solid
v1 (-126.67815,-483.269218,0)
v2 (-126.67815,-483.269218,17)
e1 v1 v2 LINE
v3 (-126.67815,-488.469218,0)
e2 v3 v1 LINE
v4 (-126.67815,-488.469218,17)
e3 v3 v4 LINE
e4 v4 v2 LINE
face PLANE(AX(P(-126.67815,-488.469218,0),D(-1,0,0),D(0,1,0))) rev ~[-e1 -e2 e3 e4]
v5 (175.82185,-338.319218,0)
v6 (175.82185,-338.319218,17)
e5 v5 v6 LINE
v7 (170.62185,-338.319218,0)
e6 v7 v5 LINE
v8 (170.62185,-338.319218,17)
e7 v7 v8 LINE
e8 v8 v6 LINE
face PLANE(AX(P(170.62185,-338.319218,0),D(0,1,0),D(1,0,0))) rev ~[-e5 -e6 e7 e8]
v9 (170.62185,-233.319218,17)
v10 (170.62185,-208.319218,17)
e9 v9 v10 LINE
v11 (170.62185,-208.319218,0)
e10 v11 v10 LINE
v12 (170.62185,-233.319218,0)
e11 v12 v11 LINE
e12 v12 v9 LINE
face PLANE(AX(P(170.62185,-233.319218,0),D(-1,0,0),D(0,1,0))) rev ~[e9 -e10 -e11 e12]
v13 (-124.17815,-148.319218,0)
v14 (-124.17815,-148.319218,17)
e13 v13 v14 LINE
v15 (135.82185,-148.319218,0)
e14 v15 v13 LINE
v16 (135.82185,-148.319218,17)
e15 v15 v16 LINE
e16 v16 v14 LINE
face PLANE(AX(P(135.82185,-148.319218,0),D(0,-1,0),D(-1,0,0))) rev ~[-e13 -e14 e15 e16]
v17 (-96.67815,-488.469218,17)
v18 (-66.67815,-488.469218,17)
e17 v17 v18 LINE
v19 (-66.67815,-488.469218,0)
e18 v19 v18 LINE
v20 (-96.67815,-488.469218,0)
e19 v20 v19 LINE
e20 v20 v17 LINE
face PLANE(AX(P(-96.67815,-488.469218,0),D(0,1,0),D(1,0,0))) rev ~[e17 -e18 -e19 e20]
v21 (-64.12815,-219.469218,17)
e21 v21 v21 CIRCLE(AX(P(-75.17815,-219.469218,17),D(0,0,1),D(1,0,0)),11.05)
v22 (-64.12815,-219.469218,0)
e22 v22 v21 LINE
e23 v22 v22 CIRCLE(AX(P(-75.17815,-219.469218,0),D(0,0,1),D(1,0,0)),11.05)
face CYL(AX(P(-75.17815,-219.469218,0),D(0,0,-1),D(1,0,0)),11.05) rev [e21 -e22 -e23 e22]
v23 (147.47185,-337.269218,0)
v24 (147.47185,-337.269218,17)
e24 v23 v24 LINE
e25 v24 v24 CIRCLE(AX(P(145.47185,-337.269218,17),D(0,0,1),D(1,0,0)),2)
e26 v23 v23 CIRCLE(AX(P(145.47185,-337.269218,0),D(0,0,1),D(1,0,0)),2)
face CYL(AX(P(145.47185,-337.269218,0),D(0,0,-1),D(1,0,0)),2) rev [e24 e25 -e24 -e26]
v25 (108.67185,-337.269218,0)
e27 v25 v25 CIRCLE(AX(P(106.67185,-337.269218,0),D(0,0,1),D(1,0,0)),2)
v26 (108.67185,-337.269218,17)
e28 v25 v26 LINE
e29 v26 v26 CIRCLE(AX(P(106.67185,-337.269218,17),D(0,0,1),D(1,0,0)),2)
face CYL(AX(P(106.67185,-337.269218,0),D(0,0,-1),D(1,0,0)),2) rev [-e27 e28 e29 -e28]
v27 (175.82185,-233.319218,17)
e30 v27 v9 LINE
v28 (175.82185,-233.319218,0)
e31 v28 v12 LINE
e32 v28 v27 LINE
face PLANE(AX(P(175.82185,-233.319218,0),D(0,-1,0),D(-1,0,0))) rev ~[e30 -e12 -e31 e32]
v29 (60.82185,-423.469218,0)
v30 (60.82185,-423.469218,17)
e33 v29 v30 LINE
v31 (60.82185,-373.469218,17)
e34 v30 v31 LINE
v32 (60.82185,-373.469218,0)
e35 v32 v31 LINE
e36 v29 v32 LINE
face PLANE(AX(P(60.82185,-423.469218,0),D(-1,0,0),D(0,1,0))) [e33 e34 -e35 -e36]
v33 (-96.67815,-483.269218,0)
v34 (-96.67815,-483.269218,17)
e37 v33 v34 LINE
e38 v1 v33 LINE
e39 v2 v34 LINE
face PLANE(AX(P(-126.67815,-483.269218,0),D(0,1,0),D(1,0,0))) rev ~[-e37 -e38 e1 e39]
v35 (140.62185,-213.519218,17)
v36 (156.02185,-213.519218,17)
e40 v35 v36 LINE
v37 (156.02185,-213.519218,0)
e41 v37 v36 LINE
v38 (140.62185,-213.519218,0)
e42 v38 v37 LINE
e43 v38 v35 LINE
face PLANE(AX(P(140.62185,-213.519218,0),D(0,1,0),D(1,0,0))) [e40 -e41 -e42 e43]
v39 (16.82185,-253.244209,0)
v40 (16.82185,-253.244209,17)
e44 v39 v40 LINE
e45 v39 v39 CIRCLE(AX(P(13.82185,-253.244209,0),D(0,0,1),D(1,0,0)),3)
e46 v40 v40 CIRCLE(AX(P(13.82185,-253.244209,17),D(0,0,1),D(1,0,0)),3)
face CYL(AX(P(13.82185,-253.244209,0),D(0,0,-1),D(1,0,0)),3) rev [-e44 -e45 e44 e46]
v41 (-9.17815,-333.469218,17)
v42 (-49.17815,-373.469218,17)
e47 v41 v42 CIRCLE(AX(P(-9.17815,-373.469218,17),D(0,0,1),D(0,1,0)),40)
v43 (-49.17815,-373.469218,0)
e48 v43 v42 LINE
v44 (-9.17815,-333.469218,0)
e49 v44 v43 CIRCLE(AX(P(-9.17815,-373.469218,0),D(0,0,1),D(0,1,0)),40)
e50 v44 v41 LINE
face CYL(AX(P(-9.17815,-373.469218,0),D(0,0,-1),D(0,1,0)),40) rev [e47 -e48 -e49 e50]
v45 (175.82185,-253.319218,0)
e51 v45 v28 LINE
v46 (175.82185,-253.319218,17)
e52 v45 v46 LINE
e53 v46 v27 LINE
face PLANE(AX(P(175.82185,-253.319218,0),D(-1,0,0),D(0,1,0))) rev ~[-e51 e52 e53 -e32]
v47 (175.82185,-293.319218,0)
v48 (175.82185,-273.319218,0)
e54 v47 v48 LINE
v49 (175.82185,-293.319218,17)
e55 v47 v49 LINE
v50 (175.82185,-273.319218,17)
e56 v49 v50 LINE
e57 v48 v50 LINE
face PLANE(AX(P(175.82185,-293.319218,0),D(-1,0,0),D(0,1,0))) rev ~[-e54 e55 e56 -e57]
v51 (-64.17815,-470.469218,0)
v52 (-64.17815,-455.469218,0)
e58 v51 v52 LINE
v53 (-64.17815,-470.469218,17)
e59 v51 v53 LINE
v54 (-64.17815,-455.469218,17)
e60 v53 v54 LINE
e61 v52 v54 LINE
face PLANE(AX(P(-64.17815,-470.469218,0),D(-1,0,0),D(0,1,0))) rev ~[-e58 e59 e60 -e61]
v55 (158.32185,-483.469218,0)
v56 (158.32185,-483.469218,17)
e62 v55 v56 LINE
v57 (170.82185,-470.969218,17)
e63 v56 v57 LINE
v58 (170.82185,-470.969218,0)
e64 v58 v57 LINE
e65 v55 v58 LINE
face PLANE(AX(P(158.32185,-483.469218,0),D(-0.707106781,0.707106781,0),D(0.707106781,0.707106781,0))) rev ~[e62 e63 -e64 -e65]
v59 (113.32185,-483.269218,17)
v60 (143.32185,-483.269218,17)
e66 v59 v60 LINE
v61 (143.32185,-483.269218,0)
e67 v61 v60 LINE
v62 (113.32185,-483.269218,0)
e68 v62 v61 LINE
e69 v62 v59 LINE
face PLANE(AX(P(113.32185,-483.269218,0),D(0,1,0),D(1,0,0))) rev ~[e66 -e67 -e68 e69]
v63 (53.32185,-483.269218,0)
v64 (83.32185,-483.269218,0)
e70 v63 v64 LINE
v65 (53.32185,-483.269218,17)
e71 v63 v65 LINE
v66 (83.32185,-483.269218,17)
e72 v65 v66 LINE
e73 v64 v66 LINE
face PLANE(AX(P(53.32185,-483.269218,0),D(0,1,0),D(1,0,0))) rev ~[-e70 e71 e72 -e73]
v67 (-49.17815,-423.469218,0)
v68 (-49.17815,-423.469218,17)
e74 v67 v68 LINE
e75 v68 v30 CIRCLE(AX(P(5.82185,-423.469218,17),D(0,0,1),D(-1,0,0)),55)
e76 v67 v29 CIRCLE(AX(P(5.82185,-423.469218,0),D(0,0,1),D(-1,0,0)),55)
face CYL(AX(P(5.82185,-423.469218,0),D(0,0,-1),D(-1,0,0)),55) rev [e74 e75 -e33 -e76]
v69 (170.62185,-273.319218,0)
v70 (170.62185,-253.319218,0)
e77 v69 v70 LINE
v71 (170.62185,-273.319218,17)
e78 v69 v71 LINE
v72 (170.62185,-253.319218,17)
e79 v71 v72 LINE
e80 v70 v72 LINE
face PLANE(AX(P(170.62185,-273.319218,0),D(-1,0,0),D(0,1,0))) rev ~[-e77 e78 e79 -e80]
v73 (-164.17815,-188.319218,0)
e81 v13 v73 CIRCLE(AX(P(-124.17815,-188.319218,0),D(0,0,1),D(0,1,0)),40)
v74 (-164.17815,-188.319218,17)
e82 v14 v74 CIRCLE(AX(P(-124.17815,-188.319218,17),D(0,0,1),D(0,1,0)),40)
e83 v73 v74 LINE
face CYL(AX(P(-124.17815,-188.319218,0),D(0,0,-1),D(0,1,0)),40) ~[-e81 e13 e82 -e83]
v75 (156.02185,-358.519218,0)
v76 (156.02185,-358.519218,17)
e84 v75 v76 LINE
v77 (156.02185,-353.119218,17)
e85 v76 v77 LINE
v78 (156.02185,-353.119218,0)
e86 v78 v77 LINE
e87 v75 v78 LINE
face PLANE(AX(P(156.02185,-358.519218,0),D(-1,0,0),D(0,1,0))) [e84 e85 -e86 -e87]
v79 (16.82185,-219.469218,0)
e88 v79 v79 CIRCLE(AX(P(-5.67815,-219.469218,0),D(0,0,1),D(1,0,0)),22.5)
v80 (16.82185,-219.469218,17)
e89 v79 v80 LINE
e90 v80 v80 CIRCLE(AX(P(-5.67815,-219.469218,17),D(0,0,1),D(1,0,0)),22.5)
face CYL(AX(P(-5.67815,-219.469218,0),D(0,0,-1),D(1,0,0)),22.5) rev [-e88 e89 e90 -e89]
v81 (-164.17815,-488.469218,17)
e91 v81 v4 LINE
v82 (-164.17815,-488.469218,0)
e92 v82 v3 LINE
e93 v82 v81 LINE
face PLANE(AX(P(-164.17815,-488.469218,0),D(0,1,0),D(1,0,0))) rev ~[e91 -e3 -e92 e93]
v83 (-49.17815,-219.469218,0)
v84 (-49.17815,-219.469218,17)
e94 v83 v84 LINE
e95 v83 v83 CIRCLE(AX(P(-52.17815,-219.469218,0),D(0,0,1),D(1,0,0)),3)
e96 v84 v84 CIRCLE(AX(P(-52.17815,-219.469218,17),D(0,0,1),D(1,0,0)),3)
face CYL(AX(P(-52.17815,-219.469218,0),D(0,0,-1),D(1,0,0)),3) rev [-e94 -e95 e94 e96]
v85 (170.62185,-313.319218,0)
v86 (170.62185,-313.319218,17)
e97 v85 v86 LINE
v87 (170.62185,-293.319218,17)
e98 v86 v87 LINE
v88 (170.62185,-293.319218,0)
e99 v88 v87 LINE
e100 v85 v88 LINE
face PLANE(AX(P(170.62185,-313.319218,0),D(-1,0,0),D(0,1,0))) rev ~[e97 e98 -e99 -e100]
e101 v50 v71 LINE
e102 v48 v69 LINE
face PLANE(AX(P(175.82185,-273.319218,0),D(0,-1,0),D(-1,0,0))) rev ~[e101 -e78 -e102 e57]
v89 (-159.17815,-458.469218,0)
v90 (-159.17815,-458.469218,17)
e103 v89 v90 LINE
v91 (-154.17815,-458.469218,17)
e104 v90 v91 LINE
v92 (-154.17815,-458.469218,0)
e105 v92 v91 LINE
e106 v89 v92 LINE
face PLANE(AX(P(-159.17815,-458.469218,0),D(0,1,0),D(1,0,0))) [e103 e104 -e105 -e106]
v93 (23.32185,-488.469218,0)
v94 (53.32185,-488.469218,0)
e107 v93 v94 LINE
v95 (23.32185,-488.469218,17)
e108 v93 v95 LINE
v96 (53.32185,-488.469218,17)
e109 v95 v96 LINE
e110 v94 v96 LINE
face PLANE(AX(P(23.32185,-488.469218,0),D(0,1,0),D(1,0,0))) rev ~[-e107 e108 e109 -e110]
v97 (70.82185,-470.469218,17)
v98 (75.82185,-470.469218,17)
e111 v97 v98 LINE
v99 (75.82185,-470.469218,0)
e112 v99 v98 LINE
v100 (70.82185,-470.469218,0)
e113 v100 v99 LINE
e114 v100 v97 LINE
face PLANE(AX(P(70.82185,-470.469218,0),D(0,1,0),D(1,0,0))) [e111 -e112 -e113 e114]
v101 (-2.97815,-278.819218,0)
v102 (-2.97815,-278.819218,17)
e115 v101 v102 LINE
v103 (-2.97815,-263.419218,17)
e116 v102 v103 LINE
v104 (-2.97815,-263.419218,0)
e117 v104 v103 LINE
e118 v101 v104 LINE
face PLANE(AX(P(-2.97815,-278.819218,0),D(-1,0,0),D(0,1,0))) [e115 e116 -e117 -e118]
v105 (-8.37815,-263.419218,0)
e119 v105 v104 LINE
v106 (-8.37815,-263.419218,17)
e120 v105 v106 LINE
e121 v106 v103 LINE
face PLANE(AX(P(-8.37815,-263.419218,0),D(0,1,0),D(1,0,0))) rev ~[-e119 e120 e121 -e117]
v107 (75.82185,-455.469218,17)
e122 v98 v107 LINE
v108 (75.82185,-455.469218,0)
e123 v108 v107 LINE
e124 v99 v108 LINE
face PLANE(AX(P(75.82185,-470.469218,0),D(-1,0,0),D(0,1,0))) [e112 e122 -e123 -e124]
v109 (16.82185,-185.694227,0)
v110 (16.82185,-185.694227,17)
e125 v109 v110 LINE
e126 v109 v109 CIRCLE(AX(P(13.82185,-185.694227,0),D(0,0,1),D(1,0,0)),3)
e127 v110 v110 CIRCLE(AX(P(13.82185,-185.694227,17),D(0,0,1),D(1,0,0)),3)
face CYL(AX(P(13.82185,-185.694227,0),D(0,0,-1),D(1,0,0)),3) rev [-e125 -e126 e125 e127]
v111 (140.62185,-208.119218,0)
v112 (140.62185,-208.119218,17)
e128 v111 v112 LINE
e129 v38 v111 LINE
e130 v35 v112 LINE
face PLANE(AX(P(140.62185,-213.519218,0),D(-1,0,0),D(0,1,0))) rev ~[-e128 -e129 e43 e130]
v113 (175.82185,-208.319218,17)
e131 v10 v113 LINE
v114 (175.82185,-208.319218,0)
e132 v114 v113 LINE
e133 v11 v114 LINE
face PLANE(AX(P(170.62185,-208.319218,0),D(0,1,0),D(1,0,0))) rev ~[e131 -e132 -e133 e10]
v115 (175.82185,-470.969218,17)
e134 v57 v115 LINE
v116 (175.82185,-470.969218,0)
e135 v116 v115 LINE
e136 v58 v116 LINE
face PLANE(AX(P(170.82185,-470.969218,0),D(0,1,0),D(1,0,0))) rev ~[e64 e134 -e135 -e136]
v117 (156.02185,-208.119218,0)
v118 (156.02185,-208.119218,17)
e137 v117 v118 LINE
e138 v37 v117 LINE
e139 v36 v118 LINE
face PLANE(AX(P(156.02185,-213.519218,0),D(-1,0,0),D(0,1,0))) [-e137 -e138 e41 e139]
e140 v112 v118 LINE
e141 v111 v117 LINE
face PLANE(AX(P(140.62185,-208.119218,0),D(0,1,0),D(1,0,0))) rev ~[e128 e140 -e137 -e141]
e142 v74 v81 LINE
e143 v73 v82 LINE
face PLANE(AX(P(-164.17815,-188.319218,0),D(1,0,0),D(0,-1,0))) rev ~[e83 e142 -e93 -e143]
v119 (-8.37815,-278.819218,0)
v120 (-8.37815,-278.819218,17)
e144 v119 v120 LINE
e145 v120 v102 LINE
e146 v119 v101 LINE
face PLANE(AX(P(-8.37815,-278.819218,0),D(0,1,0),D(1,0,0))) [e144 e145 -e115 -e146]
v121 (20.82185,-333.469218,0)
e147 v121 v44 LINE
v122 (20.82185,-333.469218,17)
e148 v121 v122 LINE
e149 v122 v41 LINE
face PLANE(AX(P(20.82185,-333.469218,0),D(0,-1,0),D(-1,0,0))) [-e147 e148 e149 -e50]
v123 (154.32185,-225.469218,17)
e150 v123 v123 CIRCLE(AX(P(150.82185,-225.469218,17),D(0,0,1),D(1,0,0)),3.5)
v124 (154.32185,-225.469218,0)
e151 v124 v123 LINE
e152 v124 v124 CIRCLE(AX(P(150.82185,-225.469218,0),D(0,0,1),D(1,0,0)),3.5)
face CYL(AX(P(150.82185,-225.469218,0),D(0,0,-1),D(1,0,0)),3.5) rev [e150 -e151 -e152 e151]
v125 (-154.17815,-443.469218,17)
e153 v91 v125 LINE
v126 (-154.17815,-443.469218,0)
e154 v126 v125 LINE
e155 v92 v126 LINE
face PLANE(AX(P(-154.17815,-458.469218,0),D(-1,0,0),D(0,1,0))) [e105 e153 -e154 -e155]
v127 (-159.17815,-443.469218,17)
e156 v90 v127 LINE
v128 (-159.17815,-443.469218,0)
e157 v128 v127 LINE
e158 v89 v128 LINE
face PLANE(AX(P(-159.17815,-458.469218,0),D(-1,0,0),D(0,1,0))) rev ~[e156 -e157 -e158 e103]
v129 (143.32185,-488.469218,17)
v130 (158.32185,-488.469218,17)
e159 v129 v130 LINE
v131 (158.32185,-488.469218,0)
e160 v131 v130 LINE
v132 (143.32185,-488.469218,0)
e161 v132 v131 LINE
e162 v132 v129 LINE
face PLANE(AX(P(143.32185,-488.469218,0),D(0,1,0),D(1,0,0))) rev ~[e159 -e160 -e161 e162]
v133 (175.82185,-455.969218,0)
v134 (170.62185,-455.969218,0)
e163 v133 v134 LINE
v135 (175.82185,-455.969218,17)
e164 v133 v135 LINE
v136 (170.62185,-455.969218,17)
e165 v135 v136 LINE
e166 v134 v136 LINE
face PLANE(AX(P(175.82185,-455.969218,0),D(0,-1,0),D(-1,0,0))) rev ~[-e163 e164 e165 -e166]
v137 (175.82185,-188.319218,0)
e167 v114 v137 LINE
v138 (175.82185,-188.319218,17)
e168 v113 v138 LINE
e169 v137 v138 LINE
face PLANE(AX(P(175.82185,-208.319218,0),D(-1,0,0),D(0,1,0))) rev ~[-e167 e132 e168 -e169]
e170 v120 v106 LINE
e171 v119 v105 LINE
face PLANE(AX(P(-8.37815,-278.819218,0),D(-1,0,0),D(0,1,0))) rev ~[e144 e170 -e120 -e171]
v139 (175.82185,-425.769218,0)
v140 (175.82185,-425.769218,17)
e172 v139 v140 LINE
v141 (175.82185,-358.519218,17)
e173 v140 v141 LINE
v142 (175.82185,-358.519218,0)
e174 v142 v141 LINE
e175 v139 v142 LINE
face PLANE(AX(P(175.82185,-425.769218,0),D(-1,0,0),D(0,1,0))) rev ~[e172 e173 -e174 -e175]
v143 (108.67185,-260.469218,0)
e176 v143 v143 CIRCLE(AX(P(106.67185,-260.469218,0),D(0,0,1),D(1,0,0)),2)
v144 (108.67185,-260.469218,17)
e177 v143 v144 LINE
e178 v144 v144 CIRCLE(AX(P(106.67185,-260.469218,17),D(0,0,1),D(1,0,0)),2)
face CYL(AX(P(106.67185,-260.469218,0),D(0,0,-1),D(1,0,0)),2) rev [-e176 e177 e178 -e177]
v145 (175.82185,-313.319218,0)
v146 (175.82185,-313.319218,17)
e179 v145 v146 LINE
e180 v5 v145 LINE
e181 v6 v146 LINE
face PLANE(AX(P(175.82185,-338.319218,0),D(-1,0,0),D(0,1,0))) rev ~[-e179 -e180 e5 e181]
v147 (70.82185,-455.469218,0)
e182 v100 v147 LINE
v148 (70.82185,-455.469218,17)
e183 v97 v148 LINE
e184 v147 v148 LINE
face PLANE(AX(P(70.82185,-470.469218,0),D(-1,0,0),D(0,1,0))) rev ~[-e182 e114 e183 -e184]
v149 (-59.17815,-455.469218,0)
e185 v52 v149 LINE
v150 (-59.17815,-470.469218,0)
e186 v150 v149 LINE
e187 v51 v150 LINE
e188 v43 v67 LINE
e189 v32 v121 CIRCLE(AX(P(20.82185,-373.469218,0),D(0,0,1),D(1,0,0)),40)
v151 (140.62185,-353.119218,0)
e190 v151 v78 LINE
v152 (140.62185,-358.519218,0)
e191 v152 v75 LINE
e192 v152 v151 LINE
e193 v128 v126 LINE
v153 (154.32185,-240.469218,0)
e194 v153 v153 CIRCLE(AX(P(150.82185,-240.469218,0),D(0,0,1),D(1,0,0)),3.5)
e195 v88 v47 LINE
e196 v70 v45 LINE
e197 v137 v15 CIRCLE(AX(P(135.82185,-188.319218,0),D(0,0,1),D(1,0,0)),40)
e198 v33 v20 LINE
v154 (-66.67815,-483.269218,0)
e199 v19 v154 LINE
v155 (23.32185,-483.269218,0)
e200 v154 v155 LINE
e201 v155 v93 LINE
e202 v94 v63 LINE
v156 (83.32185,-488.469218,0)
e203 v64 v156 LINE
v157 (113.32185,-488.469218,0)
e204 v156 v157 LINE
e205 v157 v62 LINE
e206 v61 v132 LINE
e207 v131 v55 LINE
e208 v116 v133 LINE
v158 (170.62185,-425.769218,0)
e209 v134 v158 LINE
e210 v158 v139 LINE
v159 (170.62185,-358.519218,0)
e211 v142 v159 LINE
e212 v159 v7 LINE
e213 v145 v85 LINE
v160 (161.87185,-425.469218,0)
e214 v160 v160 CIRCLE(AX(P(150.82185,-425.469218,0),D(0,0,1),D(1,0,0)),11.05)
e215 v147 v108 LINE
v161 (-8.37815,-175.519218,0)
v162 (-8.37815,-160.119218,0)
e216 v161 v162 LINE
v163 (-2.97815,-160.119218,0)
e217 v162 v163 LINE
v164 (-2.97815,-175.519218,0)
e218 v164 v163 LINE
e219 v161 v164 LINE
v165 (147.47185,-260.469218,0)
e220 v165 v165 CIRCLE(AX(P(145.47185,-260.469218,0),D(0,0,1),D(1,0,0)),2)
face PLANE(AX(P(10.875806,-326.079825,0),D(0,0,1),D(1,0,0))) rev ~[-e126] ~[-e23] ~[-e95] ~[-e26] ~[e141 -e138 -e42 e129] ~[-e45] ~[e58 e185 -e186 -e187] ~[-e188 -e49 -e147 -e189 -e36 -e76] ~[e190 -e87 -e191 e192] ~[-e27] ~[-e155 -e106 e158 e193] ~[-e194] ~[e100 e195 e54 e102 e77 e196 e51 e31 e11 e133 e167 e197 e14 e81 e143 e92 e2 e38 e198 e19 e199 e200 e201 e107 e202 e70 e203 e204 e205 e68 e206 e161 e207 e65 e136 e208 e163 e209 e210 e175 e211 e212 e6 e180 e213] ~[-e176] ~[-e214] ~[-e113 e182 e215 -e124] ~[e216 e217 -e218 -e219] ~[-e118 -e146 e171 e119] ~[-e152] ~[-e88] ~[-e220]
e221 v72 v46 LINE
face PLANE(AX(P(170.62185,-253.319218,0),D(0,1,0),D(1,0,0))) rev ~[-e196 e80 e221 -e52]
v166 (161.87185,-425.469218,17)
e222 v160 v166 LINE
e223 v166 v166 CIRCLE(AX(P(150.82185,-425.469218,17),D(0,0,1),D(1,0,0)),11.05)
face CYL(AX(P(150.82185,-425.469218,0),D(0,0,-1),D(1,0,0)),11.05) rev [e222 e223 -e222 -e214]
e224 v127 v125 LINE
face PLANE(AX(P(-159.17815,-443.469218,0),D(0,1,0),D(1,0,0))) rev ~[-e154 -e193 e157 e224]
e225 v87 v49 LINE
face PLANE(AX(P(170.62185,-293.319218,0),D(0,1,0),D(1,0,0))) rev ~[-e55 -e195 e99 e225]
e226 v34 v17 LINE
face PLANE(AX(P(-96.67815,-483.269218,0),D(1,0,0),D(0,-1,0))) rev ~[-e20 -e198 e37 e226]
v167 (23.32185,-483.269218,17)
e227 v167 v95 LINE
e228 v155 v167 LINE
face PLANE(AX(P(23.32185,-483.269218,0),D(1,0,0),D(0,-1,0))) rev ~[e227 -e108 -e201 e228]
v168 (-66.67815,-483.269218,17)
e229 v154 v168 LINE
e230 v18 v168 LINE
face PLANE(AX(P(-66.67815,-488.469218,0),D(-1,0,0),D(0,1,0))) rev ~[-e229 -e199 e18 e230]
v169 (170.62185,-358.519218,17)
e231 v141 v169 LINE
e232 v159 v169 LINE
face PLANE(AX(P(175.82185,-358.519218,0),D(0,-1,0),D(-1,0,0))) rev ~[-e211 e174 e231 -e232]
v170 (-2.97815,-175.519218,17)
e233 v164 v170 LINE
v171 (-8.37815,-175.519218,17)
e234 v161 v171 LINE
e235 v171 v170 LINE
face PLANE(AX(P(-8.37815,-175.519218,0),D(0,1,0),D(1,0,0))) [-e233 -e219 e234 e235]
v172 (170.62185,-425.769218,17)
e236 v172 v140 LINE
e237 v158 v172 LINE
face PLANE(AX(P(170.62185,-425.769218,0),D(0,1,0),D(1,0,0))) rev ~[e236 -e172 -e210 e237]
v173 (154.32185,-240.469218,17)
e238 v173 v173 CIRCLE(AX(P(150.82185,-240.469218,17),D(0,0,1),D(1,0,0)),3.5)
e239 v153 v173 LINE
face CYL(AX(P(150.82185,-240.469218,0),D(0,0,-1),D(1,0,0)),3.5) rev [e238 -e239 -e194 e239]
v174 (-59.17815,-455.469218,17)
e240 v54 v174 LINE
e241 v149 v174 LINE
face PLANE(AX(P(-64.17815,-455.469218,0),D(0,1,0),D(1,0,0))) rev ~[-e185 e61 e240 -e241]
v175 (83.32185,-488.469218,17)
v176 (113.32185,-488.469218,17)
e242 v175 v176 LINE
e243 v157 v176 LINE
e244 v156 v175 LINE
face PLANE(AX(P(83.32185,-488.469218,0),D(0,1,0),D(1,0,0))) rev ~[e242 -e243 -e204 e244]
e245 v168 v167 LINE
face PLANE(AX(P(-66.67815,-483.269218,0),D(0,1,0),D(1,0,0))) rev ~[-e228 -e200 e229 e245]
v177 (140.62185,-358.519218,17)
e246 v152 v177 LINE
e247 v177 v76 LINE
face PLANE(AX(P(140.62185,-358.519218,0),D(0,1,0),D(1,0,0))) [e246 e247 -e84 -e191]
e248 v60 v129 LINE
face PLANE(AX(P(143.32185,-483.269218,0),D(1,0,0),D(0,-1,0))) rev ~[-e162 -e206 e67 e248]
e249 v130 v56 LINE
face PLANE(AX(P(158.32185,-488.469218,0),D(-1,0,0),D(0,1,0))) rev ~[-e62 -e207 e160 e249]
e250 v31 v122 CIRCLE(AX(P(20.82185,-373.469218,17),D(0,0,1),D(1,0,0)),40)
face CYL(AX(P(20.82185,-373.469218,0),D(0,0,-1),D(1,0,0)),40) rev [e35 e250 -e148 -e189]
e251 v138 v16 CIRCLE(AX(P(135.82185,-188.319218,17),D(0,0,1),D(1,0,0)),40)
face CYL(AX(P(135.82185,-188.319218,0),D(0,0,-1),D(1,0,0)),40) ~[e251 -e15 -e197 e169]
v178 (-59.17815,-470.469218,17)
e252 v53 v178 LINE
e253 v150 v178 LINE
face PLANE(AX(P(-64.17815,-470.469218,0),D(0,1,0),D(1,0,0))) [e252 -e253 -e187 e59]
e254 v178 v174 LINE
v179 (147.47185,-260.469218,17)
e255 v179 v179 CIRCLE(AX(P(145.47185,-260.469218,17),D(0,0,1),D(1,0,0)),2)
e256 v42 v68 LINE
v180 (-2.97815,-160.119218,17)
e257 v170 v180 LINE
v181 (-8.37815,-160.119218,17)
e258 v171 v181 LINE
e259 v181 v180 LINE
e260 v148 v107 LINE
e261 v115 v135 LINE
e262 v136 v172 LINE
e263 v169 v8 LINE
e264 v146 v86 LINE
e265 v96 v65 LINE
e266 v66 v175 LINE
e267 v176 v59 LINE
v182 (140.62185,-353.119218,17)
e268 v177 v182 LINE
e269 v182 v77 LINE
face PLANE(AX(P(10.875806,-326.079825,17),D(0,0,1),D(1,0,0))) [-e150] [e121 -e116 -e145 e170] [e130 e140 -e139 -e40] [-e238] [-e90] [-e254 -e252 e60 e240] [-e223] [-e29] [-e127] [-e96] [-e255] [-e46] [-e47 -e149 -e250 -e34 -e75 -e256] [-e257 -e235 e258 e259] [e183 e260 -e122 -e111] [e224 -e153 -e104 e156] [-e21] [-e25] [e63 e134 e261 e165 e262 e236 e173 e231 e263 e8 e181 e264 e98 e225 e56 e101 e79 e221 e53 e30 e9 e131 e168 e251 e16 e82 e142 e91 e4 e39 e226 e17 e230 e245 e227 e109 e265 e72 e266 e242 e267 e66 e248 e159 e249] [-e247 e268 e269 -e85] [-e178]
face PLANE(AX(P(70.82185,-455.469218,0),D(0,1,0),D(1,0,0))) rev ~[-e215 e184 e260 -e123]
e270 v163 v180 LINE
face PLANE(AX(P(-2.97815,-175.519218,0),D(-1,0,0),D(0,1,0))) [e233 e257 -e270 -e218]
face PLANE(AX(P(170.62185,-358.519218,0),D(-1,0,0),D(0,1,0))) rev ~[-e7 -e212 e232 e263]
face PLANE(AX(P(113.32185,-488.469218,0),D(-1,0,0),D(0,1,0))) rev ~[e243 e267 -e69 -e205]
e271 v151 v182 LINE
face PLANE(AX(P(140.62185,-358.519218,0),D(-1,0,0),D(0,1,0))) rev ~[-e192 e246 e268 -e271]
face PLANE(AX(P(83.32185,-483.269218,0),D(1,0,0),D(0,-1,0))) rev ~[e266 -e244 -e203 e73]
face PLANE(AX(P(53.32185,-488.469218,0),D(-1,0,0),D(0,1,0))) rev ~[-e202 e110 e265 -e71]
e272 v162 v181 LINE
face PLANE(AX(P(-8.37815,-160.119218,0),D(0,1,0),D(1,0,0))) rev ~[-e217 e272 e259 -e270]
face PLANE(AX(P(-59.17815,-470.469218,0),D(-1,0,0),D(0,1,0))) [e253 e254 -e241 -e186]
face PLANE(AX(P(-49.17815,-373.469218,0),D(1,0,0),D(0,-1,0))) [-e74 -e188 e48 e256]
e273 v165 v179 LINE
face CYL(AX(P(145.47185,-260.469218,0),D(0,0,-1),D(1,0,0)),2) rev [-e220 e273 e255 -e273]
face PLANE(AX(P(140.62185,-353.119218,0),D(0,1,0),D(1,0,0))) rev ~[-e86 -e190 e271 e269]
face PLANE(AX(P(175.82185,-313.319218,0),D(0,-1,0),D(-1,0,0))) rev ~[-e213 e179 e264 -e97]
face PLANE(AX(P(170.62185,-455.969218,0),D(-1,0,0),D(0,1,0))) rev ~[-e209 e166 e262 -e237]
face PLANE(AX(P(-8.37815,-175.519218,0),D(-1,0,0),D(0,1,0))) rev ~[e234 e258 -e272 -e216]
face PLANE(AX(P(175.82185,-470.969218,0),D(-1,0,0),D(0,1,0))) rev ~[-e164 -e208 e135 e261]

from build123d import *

# Parameters (mm, degrees)
MODEL_R             = 11.05
MODEL_R_2           = 22.5
MODEL_R_3           = 3
MODEL_R_4           = 3.5
MODEL_R_5           = 2
MODEL_W             = 5.4
MODEL_H             = 15.4
MODEL_W_2           = 5
MODEL_H_2           = 15
MODEL_W_3           = 15.4
MODEL_H_3           = 5.4
BOSS_EXTRUDE1_DEPTH = 17


with BuildPart() as part:
    # Model → Boss-Extrude1 (new body)
    with BuildSketch(Plane.XY):
        with BuildLine():
            Line((170.621850122, -313.319218198), (170.621850122, -293.319218198))
            Line((170.621850122, -293.319218198), (175.821850122, -293.319218198))
            Line((175.821850122, -293.319218198), (175.821850122, -273.319218198))
            Line((175.821850122, -273.319218198), (170.621850122, -273.319218198))
            Line((170.621850122, -273.319218198), (170.621850122, -253.319218198))
            Line((170.621850122, -253.319218198), (175.821850122, -253.319218198))
            Line((175.821850122, -253.319218198), (175.821850122, -233.319218198))
            Line((175.821850122, -233.319218198), (170.621850122, -233.319218198))
            Line((170.621850122, -233.319218198), (170.621850122, -208.319218198))
            Line((170.621850122, -208.319218198), (175.821850122, -208.319218198))
            Line((175.821850122, -208.319218198), (175.821850122, -188.319218198))
            ThreePointArc((175.821850122, -188.319218198), (164.106121369, -160.034946951), (135.821850122, -148.319218198))
            Line((135.821850122, -148.319218198), (-124.178149879, -148.319218198))
            ThreePointArc((-124.178149879, -148.319218198), (-152.462421126, -160.034946951), (-164.178149878, -188.319218198))
            Line((-164.178149878, -188.319218198), (-164.178149878, -488.469218198))
            Line((-164.178149878, -488.469218198), (-126.678149879, -488.469218198))
            Line((-126.678149879, -488.469218198), (-126.678149879, -483.269218198))
            Line((-126.678149879, -483.269218198), (-96.678149879, -483.269218198))
            Line((-96.678149879, -483.269218198), (-96.678149879, -488.469218198))
            Line((-96.678149879, -488.469218198), (-66.678149879, -488.469218198))
            Line((-66.678149879, -488.469218198), (-66.678149879, -483.269218198))
            Line((-66.678149879, -483.269218198), (23.321850122, -483.269218198))
            Line((23.321850122, -483.269218198), (23.321850122, -488.469218198))
            Line((23.321850122, -488.469218198), (53.321850122, -488.469218198))
            Line((53.321850122, -488.469218198), (53.321850122, -483.269218198))
            Line((53.321850122, -483.269218198), (83.321850122, -483.269218198))
            Line((83.321850122, -483.269218198), (83.321850122, -488.469218198))
            Line((83.321850122, -488.469218198), (113.321850122, -488.469218198))
            Line((113.321850122, -488.469218198), (113.321850122, -483.269218198))
            Line((113.321850122, -483.269218198), (143.321850122, -483.269218198))
            Line((143.321850122, -483.269218198), (143.321850122, -488.469218198))
            Line((143.321850122, -488.469218198), (158.321850122, -488.469218198))
            Line((158.321850122, -488.469218198), (158.321850122, -483.469218198))
            Line((158.321850122, -483.469218198), (170.821850122, -470.969218198))
            Line((170.821850122, -470.969218198), (175.821850122, -470.969218198))
            Line((175.821850122, -470.969218198), (175.821850122, -455.969218198))
            Line((175.821850122, -455.969218198), (170.621850122, -455.969218198))
            Line((170.621850122, -455.969218198), (170.621850122, -425.769218198))
            Line((170.621850122, -425.769218198), (175.821850122, -425.769218198))
            Line((175.821850122, -425.769218198), (175.821850122, -358.519218198))
            Line((175.821850122, -358.519218198), (170.621850122, -358.519218198))
            Line((170.621850122, -358.519218198), (170.621850122, -338.319218198))
            Line((170.621850122, -338.319218198), (175.821850122, -338.319218198))
            Line((175.821850122, -338.319218198), (175.821850122, -313.319218198))
            Line((175.821850122, -313.319218198), (170.621850122, -313.319218198))
        make_face()
        with Locations((-75.178149879, -219.469218198)):
            Circle(MODEL_R, mode=Mode.SUBTRACT)
        with Locations((150.821850122, -425.469218198)):
            Circle(MODEL_R, mode=Mode.SUBTRACT)
        with Locations((-5.678149878, -219.469218198)):
            Circle(MODEL_R_2, mode=Mode.SUBTRACT)
        with Locations((13.821850122, -253.244208946)):
            Circle(MODEL_R_3, mode=Mode.SUBTRACT)
        with Locations((13.821850122, -185.69422745)):
            Circle(MODEL_R_3, mode=Mode.SUBTRACT)
        with Locations((-52.178149879, -219.469218198)):
            Circle(MODEL_R_3, mode=Mode.SUBTRACT)
        with Locations((150.821850122, -240.469218198)):
            Circle(MODEL_R_4, mode=Mode.SUBTRACT)
        with Locations((150.821850122, -225.469218198)):
            Circle(MODEL_R_4, mode=Mode.SUBTRACT)
        with Locations((106.671850121, -337.269218198)):
            Circle(MODEL_R_5, mode=Mode.SUBTRACT)
        with Locations((145.471850121, -260.469218198)):
            Circle(MODEL_R_5, mode=Mode.SUBTRACT)
        with Locations((145.471850121, -337.269218198)):
            Circle(MODEL_R_5, mode=Mode.SUBTRACT)
        with Locations((106.671850121, -260.469218198)):
            Circle(MODEL_R_5, mode=Mode.SUBTRACT)
        with BuildLine():
            Line((-49.178149879, -373.469218198), (-49.178149878, -423.469218198))
            ThreePointArc((-49.178149878, -423.469218198), (5.821850122, -478.469218198), (60.821850122, -423.469218198))
            Line((60.821850122, -423.469218198), (60.821850122, -373.469218198))
            ThreePointArc((60.821850122, -373.469218198), (49.106121369, -345.184946951), (20.821850122, -333.469218198))
            Line((20.821850122, -333.469218198), (-9.178149878, -333.469218198))
            ThreePointArc((-9.178149878, -333.469218198), (-37.462421126, -345.184946951), (-49.178149879, -373.469218198))
        make_face(mode=Mode.SUBTRACT)
        with Locations((-5.678149879, -167.819218198)):
            Rectangle(MODEL_W, MODEL_H, mode=Mode.SUBTRACT)
        with Locations((-5.678149879, -271.119218198)):
            Rectangle(MODEL_W, MODEL_H, mode=Mode.SUBTRACT)
        with Locations((73.321850122, -462.969218198)):
            Rectangle(MODEL_W_2, MODEL_H_2, mode=Mode.SUBTRACT)
        with Locations((148.321850122, -210.819218198)):
            Rectangle(MODEL_W_3, MODEL_H_3, mode=Mode.SUBTRACT)
        with Locations((148.321850122, -355.819218198)):
            Rectangle(MODEL_W_3, MODEL_H_3, mode=Mode.SUBTRACT)
        with Locations((-156.678149878, -450.969218198)):
            Rectangle(MODEL_W_2, MODEL_H_2, mode=Mode.SUBTRACT)
        with Locations((-61.678149878, -462.969218198)):
            Rectangle(MODEL_W_2, MODEL_H_2, mode=Mode.SUBTRACT)
    extrude(amount=BOSS_EXTRUDE1_DEPTH)


solid = part.part
